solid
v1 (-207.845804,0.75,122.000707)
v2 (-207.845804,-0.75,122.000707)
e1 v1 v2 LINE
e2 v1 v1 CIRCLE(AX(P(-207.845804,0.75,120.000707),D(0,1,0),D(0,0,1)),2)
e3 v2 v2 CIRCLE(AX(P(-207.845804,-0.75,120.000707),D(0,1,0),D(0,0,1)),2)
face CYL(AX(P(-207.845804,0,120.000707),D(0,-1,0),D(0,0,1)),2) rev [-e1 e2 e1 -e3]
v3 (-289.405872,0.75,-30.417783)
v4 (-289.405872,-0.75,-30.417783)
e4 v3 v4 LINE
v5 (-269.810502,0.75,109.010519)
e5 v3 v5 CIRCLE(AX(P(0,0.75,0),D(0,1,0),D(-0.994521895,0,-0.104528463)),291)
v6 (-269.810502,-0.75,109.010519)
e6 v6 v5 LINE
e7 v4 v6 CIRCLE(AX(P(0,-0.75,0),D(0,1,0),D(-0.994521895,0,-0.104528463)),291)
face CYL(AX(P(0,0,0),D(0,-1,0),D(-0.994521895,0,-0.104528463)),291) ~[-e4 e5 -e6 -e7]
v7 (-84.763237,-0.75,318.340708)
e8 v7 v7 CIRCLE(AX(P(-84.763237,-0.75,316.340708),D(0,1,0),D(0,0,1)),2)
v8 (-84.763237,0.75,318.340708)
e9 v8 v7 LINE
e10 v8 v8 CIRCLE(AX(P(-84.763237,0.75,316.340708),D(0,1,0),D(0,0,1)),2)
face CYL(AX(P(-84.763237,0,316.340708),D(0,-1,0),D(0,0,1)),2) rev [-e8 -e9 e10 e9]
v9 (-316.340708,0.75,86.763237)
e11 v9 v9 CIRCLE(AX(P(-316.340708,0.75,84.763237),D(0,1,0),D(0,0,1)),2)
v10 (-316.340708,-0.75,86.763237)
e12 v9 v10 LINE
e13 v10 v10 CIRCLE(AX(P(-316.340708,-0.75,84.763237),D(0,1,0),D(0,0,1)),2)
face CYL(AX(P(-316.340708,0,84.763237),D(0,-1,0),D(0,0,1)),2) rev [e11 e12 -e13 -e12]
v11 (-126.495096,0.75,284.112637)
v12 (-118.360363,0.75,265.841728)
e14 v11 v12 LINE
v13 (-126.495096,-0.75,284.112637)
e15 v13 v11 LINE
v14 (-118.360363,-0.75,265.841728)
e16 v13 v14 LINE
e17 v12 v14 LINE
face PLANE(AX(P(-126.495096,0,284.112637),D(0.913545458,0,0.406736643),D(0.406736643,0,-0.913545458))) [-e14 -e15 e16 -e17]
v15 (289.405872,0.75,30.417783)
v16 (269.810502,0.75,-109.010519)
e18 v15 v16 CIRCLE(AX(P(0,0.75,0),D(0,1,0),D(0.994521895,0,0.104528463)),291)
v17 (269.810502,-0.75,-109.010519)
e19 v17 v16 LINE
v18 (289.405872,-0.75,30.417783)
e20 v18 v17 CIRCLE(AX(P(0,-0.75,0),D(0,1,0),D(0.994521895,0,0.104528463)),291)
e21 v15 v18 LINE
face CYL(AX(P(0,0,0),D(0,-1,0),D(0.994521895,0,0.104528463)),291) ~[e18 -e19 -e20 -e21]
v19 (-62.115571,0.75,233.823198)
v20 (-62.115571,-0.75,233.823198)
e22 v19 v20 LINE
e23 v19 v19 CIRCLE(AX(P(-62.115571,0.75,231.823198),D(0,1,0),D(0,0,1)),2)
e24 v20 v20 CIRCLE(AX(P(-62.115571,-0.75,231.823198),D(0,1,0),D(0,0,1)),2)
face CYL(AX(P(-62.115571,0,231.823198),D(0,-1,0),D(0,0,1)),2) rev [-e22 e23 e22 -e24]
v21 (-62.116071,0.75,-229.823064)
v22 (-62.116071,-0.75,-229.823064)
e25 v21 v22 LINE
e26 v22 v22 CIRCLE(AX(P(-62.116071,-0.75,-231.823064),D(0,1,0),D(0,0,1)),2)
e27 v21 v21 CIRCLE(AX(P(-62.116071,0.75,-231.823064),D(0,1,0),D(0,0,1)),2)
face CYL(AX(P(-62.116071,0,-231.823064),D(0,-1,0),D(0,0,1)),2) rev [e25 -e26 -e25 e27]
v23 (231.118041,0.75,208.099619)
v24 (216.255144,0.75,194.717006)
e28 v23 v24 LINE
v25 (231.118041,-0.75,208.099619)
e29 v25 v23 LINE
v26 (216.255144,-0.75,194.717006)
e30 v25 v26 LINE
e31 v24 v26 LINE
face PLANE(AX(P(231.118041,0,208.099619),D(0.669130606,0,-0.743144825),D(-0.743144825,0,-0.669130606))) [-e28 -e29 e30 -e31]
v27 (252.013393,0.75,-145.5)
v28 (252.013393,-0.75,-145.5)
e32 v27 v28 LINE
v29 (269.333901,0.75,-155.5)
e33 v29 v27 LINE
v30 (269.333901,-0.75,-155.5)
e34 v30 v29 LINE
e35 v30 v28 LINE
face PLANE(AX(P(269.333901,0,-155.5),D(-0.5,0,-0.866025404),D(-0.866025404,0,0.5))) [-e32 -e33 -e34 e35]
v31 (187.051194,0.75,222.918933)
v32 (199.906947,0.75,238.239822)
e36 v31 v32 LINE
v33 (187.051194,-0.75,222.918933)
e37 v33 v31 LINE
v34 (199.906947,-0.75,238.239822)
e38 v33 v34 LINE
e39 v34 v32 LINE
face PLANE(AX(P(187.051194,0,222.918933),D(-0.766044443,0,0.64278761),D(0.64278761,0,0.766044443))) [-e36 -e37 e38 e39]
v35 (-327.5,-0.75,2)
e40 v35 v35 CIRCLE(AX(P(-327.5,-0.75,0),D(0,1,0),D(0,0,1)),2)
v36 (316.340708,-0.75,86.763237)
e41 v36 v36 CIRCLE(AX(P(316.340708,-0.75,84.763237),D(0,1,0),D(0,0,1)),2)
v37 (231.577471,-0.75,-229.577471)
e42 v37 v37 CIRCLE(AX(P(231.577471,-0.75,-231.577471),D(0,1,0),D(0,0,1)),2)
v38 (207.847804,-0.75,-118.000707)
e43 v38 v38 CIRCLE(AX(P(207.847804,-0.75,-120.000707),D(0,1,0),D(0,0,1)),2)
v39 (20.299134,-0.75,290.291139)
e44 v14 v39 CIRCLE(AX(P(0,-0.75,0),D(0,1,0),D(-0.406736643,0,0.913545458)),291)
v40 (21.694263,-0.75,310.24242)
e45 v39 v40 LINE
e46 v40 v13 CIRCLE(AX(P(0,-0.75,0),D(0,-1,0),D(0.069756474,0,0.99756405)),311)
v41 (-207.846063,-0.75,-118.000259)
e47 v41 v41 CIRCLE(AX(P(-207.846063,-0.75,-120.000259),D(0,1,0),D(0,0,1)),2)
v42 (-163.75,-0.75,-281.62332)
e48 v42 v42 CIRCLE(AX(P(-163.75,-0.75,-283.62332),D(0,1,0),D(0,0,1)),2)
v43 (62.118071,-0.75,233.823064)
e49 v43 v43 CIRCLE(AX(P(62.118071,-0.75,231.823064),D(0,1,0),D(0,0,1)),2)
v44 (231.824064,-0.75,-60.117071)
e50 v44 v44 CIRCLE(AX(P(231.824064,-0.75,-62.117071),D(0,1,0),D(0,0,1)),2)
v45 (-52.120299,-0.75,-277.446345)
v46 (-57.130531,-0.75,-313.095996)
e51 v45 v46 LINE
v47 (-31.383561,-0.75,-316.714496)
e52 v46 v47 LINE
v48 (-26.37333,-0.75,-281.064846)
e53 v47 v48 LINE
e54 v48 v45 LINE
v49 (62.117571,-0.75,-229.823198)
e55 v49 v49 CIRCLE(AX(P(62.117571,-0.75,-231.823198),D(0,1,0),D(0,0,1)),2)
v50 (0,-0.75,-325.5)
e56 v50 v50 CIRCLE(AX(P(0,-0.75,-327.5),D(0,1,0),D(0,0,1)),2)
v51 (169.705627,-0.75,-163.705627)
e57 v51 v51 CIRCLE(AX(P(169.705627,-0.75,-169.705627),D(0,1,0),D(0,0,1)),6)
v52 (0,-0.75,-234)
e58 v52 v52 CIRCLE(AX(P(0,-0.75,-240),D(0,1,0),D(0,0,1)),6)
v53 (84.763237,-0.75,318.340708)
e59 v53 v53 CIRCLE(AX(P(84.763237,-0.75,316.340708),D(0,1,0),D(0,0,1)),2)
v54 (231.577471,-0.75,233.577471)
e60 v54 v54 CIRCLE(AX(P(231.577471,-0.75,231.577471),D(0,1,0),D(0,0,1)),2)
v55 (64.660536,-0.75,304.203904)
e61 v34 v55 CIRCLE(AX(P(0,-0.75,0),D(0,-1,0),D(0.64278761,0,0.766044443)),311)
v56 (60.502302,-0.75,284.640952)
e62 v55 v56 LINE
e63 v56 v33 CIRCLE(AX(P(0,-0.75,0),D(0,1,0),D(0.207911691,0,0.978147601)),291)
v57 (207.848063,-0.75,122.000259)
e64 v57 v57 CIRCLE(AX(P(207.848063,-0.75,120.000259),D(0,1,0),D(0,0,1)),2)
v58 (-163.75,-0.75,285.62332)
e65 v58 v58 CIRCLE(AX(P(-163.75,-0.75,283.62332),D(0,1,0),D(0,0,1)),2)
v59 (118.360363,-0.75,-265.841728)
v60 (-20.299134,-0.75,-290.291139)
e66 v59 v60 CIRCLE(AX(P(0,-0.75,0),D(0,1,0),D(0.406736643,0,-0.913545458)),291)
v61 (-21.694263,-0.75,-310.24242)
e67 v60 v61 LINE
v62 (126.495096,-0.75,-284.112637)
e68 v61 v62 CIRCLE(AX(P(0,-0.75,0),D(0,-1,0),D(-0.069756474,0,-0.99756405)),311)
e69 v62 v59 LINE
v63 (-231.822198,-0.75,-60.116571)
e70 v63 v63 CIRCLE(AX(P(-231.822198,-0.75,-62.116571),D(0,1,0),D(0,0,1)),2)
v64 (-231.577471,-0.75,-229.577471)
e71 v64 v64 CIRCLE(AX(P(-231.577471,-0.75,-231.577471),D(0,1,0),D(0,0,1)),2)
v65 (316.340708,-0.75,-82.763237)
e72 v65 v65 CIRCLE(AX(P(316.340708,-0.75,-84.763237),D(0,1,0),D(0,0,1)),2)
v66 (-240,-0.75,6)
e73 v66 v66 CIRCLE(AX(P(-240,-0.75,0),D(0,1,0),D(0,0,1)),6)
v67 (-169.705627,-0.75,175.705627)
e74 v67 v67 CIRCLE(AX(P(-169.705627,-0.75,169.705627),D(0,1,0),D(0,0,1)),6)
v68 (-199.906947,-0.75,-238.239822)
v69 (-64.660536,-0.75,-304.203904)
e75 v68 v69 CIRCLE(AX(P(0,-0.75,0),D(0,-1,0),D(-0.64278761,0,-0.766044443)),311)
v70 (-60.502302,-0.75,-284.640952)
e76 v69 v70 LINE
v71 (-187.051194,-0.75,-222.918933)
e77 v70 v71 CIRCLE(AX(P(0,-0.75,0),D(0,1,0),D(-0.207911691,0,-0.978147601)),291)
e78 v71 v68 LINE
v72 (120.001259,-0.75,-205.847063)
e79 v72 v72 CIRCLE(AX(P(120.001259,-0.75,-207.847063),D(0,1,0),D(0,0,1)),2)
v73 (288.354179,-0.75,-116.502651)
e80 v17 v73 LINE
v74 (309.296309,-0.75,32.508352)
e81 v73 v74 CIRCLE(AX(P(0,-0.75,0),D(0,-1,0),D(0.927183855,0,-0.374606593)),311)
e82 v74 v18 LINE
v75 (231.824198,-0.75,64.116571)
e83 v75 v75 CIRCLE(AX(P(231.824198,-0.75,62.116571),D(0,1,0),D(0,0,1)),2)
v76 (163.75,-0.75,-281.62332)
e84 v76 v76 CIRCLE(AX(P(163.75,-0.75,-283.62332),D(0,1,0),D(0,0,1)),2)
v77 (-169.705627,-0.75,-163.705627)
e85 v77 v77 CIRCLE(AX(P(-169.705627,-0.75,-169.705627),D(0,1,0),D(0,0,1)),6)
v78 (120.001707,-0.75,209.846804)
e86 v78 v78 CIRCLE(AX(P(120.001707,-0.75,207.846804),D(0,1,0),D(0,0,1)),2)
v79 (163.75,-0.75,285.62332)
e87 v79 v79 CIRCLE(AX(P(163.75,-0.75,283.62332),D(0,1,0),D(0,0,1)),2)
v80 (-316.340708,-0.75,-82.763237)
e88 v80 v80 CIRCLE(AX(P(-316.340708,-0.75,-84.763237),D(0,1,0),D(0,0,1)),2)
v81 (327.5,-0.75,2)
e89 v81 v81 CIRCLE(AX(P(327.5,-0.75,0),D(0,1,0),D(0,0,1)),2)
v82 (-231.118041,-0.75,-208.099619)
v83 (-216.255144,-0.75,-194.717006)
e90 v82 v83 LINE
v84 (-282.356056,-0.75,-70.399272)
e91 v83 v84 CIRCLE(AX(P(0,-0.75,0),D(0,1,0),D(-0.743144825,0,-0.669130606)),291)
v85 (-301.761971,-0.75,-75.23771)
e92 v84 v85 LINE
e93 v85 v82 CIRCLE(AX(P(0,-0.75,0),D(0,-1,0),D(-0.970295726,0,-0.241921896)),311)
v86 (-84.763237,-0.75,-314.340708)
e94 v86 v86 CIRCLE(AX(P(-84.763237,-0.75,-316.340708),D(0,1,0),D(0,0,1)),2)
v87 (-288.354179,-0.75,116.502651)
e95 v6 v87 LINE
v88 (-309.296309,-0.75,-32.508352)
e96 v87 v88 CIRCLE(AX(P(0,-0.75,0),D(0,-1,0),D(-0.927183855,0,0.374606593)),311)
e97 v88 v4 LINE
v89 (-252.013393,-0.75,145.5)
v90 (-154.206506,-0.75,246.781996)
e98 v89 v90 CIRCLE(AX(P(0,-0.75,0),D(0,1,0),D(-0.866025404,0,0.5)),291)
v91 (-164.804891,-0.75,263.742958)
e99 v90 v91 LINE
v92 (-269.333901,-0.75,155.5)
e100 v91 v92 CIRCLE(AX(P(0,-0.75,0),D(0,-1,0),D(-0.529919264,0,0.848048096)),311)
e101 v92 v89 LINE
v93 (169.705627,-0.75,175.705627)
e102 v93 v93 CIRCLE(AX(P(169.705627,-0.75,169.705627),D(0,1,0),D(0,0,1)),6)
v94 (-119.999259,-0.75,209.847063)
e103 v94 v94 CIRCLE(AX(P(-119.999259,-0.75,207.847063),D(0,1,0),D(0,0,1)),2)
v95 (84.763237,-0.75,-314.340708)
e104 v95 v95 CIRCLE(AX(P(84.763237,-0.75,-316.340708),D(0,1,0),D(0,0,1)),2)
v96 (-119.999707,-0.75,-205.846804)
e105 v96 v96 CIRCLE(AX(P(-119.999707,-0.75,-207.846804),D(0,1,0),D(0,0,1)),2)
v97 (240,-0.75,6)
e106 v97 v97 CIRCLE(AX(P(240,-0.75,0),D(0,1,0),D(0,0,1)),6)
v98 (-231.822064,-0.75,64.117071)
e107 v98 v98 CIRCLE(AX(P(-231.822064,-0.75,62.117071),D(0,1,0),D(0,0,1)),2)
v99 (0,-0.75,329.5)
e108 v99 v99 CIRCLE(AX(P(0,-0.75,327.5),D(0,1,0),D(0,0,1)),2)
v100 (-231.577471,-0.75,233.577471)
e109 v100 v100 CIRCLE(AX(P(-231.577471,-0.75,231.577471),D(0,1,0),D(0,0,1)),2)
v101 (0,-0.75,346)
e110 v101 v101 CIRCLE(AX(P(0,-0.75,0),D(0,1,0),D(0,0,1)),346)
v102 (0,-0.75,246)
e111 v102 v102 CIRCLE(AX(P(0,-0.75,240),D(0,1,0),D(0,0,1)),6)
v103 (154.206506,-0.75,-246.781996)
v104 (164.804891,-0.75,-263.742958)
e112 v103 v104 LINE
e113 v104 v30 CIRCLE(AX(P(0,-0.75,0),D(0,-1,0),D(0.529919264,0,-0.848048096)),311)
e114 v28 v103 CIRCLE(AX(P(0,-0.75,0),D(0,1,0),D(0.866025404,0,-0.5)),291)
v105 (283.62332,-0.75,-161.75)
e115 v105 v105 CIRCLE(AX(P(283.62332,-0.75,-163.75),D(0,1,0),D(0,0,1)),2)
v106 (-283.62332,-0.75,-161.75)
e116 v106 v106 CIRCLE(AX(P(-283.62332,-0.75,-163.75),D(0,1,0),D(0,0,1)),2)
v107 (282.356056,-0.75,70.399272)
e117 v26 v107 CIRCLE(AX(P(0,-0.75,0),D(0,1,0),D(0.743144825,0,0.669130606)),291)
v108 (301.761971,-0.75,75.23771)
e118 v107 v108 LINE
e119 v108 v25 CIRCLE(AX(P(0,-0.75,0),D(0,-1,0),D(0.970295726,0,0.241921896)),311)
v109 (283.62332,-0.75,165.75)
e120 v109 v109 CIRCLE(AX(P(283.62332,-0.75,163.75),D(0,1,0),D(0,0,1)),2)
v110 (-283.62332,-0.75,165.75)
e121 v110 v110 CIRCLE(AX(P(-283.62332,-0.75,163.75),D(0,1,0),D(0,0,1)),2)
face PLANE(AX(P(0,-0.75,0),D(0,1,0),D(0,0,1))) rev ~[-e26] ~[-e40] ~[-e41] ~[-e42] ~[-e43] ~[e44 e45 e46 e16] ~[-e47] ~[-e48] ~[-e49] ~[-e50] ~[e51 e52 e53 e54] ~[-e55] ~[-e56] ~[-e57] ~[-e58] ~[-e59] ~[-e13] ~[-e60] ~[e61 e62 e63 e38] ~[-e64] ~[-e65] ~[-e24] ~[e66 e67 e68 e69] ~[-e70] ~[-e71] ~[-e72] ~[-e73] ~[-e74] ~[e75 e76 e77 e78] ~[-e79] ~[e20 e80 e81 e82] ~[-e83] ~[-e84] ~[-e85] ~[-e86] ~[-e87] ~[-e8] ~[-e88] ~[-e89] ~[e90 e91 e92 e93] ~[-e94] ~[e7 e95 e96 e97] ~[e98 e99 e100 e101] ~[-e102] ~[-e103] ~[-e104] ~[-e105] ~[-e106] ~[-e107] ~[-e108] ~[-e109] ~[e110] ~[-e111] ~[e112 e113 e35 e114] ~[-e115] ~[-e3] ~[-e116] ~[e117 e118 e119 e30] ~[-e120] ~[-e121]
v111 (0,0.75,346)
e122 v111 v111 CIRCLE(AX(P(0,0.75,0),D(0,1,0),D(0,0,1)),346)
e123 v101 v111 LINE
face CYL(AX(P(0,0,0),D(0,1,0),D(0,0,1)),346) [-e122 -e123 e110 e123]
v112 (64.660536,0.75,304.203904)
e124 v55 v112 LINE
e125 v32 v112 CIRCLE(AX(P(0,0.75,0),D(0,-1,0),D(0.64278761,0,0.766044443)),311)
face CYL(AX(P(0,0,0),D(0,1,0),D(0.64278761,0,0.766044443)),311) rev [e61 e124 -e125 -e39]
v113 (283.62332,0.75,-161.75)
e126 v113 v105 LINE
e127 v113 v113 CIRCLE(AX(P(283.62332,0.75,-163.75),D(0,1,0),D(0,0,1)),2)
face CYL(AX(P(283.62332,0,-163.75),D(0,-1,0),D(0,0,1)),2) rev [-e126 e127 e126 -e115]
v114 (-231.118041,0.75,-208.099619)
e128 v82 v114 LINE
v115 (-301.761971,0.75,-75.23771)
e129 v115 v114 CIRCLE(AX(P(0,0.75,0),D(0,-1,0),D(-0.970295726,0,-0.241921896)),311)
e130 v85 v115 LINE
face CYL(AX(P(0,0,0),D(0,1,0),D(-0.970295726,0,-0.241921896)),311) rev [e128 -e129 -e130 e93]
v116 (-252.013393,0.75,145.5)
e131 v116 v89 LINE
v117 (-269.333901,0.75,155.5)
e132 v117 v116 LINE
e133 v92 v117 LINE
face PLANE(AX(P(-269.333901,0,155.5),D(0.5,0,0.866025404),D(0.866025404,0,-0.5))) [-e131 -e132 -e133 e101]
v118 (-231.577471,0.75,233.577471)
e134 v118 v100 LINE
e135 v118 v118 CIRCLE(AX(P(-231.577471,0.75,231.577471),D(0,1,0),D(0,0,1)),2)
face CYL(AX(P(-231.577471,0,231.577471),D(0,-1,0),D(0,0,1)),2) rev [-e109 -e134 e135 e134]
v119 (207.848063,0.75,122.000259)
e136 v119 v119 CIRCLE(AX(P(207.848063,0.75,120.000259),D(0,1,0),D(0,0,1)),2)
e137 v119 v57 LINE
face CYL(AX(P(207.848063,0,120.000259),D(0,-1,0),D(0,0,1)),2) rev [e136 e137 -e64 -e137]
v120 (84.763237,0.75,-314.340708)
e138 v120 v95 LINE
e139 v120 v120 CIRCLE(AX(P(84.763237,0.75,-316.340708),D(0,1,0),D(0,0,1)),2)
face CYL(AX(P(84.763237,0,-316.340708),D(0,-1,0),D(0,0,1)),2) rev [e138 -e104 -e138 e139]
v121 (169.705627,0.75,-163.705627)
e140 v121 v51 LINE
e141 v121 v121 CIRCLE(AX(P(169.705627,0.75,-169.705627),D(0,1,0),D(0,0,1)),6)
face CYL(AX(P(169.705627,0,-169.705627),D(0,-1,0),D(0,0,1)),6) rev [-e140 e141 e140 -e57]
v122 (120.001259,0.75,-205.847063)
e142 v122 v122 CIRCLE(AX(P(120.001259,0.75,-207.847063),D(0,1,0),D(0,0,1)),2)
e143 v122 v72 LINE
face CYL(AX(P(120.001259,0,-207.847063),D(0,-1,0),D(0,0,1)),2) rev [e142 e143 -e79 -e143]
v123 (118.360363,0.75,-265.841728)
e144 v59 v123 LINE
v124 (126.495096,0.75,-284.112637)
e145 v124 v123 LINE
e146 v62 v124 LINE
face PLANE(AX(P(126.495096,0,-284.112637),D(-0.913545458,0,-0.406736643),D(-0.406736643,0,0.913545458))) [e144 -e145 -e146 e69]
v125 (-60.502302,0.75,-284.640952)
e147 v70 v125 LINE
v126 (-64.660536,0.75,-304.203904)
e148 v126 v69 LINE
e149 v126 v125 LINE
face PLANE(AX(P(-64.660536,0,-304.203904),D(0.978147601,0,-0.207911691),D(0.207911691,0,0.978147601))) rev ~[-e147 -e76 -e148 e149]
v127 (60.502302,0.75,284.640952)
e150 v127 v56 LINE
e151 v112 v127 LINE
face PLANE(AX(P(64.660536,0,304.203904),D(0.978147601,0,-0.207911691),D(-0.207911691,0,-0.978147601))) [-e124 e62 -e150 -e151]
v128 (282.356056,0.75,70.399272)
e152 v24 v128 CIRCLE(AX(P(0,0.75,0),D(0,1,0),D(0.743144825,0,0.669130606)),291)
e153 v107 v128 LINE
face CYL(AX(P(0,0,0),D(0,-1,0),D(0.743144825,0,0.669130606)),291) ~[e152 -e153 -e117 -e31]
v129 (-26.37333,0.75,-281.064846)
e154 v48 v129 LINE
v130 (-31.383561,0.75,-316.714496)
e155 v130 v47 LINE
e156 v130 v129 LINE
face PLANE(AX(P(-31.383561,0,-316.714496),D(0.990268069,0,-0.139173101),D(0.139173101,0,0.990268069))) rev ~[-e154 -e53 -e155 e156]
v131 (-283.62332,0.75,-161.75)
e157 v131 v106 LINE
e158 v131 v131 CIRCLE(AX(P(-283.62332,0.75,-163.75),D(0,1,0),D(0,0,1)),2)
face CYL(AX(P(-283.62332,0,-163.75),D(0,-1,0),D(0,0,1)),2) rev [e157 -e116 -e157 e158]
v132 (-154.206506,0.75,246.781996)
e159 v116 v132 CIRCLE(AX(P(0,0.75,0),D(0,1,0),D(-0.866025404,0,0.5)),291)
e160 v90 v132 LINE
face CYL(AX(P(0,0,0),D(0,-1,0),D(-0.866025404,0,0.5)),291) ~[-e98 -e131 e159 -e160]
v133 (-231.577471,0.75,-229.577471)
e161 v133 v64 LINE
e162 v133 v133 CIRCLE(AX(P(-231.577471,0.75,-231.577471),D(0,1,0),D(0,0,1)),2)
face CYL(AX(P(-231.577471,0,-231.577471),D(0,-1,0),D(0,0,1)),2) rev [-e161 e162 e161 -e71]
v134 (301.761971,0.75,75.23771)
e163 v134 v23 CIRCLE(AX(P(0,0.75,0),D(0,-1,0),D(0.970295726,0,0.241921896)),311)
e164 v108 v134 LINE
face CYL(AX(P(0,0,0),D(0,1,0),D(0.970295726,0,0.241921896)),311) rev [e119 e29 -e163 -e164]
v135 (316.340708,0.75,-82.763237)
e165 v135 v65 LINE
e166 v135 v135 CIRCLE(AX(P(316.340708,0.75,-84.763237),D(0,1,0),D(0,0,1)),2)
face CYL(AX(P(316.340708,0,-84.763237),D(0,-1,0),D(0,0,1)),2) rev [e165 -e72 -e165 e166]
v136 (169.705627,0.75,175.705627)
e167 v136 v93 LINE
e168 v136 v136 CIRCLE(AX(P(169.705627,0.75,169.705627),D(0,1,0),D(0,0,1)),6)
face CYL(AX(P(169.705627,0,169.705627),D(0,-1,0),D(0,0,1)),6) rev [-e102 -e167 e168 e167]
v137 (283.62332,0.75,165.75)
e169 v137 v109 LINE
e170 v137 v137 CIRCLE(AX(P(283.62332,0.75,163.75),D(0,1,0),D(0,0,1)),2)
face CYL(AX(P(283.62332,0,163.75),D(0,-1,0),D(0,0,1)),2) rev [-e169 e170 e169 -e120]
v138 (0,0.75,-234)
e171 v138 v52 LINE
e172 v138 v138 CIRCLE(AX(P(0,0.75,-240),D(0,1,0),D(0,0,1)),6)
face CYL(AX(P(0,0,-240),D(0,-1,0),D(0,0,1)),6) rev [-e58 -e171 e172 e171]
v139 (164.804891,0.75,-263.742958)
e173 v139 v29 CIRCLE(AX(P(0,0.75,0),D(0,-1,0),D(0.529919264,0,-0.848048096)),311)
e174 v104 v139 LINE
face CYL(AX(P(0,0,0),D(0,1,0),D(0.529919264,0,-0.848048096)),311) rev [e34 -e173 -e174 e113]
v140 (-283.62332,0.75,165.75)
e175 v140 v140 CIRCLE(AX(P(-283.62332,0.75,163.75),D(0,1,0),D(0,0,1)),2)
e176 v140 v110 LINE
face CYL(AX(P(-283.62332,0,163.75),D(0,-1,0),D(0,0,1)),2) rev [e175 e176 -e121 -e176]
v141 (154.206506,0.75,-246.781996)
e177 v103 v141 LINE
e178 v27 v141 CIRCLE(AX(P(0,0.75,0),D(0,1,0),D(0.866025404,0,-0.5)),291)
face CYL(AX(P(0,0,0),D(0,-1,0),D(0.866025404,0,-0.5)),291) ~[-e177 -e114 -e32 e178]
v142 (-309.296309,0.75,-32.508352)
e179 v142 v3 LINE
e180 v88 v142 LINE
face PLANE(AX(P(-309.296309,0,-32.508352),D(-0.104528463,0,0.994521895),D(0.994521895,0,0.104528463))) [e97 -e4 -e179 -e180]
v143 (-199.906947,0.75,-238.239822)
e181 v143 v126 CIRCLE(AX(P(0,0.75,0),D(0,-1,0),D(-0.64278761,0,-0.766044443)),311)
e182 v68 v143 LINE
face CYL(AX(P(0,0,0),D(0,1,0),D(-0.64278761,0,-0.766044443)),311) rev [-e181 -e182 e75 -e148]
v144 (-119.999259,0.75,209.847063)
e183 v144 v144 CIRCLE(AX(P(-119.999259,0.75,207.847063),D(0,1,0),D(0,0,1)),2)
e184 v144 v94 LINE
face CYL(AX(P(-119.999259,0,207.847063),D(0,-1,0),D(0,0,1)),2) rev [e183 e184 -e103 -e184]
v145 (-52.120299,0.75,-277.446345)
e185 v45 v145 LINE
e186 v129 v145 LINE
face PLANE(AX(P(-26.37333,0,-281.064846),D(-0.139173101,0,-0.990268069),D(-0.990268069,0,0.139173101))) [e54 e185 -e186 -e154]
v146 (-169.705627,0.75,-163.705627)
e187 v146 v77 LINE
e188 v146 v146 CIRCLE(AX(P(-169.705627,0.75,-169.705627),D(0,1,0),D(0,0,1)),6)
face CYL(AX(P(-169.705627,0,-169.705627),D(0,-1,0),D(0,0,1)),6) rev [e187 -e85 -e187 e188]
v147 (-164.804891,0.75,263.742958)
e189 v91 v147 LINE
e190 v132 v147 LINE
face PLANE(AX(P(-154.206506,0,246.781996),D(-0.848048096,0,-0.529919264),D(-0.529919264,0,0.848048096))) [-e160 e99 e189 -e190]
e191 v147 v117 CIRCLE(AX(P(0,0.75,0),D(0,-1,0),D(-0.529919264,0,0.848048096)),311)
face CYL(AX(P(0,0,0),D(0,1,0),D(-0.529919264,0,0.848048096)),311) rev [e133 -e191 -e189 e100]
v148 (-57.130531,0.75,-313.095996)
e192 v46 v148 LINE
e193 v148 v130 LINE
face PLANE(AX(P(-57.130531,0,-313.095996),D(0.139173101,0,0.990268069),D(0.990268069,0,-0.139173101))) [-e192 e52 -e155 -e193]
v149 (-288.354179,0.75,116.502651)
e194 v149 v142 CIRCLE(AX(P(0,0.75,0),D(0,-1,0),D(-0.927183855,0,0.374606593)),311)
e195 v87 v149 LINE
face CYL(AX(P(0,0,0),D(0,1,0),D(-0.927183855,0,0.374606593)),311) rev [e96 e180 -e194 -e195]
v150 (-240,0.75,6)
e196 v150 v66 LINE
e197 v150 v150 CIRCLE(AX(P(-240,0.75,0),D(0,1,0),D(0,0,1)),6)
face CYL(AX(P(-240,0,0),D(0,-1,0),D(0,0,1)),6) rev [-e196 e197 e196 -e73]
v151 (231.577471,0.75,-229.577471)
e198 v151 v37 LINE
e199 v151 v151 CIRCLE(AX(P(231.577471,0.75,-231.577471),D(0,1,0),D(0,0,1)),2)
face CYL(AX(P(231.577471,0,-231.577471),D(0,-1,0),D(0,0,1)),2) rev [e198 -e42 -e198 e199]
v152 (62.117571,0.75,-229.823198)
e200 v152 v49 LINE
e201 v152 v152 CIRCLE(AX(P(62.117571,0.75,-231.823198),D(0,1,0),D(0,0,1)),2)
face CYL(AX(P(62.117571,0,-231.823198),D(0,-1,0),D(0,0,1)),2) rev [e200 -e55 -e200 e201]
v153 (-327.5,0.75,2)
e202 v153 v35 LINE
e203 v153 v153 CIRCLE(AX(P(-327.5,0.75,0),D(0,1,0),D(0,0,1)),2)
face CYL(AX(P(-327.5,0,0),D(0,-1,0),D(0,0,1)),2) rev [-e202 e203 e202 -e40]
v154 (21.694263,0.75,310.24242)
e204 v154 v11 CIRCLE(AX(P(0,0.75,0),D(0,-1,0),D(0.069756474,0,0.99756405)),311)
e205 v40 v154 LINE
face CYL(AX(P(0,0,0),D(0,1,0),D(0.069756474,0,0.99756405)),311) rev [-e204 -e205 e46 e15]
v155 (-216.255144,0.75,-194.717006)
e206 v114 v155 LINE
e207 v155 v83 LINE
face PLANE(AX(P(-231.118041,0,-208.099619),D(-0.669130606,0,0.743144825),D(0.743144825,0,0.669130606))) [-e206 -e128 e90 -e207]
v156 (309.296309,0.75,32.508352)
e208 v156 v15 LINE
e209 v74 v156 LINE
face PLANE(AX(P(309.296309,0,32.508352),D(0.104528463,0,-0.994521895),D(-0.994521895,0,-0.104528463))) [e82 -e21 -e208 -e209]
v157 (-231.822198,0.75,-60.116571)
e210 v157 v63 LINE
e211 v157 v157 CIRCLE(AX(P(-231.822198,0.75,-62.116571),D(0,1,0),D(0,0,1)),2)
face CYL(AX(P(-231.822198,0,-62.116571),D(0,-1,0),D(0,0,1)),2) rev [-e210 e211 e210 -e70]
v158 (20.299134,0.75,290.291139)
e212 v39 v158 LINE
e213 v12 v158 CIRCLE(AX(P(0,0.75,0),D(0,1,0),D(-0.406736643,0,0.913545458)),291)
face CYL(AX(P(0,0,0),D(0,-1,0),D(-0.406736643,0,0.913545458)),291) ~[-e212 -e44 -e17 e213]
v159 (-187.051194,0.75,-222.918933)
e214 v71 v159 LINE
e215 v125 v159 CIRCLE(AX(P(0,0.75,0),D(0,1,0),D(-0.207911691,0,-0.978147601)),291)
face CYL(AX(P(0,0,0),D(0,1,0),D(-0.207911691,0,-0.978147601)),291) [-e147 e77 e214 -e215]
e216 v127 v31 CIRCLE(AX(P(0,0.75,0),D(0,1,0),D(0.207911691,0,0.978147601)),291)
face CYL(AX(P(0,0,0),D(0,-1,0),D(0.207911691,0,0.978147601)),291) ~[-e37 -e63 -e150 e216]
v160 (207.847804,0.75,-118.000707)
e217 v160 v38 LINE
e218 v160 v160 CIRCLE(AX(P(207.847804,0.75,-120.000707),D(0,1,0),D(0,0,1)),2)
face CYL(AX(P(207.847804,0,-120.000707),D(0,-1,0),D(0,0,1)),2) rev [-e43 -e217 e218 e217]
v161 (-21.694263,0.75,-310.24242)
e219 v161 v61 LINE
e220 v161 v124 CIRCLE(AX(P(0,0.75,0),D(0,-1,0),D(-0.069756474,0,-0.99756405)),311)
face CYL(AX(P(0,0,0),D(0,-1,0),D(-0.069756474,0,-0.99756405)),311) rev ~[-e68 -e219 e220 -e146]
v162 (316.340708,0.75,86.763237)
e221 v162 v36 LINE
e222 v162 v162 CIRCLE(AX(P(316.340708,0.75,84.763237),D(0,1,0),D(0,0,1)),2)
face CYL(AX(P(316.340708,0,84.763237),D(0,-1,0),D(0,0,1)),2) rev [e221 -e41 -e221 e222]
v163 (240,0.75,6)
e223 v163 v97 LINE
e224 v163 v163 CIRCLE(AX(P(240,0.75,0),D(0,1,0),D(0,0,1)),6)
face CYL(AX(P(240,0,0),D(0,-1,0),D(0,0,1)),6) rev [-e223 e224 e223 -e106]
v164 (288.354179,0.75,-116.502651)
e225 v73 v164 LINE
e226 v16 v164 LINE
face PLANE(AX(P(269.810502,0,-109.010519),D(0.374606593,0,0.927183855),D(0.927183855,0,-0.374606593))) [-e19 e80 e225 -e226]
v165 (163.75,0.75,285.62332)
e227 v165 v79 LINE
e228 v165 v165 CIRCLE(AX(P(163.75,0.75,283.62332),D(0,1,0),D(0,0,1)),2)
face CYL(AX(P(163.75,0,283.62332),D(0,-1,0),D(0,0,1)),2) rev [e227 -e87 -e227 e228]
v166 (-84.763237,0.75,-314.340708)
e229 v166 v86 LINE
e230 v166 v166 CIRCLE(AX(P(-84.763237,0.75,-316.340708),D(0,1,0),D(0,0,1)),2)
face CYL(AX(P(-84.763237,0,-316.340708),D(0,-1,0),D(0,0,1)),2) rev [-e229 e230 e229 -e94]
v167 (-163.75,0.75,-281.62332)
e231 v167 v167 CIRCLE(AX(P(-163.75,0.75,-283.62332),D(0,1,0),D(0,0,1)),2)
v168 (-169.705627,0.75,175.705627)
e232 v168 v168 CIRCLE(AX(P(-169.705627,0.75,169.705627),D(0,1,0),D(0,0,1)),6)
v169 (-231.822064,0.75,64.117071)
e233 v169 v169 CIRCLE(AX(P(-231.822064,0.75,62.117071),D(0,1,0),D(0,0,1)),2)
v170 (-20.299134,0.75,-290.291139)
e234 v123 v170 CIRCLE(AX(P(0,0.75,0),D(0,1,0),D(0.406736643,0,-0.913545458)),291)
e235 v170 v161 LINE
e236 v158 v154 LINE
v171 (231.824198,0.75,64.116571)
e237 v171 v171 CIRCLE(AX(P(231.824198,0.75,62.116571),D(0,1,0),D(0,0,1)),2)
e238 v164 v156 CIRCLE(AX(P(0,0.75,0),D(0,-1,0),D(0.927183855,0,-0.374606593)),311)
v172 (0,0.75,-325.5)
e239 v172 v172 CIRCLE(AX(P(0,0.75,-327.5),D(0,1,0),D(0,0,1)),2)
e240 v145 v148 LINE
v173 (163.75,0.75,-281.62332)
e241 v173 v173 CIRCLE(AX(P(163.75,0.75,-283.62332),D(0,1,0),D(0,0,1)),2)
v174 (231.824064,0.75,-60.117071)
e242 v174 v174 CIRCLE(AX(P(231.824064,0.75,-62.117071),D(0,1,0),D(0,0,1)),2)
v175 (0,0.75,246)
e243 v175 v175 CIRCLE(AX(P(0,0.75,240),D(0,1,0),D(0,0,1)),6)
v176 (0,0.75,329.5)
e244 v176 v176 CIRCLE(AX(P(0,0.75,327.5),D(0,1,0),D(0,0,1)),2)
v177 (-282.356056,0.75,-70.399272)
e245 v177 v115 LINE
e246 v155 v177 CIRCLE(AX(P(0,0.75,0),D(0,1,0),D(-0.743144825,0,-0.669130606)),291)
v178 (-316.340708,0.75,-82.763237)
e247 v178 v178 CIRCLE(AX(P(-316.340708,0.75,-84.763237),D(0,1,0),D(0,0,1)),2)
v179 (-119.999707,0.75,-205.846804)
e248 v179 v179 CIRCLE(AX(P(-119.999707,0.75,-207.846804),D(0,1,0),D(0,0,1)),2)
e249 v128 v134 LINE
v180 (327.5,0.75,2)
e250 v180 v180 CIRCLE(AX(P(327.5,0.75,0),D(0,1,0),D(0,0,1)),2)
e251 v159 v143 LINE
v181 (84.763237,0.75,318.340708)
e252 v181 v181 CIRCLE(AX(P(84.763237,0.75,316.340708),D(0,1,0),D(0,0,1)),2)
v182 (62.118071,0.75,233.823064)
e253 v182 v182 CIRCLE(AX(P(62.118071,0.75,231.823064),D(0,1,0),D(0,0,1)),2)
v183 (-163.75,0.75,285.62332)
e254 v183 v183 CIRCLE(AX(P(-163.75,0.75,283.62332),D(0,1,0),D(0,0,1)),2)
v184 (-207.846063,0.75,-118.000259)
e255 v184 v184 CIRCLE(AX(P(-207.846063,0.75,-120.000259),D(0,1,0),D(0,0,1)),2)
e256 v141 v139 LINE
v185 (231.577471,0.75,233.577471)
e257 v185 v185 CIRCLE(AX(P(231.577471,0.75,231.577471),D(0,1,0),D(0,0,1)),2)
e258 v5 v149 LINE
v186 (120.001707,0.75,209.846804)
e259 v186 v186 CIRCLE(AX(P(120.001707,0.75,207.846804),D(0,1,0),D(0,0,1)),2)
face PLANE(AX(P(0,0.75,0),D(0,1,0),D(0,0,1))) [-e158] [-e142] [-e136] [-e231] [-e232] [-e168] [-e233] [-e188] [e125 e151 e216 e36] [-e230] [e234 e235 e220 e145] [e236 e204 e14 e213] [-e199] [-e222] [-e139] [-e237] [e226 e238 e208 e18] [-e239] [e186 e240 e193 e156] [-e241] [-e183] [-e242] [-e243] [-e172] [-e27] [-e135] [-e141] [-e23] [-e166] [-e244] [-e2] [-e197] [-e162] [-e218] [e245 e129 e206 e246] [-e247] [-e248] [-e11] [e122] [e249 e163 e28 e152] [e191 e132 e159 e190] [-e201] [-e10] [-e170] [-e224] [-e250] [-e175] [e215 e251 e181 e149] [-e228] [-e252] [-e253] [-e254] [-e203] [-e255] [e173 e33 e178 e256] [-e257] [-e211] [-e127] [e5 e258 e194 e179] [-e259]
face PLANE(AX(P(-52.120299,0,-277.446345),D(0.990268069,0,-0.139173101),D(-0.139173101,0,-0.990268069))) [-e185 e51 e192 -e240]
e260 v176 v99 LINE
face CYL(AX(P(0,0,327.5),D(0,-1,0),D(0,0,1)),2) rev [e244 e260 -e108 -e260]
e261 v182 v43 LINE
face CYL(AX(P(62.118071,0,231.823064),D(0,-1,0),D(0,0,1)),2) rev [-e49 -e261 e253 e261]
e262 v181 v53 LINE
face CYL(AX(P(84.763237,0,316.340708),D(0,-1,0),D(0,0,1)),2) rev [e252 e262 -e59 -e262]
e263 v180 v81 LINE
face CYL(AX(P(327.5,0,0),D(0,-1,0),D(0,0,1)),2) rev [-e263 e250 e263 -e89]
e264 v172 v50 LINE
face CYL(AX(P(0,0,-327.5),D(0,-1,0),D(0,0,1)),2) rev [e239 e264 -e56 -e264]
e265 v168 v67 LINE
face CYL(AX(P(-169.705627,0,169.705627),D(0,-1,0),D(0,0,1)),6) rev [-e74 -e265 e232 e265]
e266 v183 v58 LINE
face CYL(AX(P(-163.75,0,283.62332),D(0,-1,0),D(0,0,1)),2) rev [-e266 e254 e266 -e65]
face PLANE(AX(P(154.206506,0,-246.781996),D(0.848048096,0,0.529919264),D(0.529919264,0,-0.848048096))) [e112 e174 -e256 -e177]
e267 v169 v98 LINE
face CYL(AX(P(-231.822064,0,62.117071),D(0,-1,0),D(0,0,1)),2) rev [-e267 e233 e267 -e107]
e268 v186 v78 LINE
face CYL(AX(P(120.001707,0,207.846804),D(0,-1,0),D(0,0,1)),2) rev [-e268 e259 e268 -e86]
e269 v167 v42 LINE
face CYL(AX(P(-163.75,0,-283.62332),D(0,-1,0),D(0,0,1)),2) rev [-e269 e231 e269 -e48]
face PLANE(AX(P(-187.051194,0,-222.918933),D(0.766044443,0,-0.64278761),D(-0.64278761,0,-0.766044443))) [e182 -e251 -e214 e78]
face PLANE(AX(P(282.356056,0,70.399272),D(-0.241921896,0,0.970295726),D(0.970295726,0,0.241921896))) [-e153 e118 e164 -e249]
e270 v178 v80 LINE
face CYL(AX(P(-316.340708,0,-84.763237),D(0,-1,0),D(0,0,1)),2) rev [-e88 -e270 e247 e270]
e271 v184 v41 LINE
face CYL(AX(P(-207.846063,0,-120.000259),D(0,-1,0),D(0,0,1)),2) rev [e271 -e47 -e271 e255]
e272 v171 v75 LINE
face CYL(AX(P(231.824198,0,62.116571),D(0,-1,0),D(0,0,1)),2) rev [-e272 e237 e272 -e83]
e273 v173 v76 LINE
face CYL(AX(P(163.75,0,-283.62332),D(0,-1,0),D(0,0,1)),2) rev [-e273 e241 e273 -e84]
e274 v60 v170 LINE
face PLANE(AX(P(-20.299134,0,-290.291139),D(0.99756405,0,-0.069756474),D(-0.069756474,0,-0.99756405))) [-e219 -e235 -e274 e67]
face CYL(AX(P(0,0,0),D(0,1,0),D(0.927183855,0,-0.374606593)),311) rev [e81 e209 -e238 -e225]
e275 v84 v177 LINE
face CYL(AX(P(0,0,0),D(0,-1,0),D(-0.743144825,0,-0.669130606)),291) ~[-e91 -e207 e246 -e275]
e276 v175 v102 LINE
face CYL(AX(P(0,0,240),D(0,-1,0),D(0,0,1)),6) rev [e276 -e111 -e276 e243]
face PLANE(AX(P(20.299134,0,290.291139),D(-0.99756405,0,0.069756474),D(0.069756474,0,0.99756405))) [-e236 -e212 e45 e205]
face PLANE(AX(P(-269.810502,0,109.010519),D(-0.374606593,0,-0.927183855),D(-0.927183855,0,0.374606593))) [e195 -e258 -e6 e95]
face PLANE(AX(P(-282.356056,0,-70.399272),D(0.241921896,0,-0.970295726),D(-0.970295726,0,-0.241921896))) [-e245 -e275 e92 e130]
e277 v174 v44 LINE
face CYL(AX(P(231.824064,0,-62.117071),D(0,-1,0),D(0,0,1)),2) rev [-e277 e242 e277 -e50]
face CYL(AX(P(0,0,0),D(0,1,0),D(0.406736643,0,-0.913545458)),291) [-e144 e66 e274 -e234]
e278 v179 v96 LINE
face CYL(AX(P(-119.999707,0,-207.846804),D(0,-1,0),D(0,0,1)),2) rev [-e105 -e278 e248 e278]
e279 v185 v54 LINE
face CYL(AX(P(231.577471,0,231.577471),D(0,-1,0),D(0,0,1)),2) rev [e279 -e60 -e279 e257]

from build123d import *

# Parameters (mm, degrees)
SKETCH1_R           = 346
SKETCH1_R_2         = 6
SKETCH1_R_3         = 2
BOSS_EXTRUDE1_DEPTH = 0.75


with BuildPart() as part:
    # Sketch1 → Boss-Extrude1 (new, symmetric)
    with BuildSketch(Plane(origin=(0, 0, 0), x_dir=(1, 0, 0), z_dir=(0, 1, 0))):
        with Locations(Location((0, 0, 0), (0, 0, 270))):
            Circle(SKETCH1_R)
        with Locations(Location((0, 240, 0), (0, 0, 270))):
            Circle(SKETCH1_R_2, mode=Mode.SUBTRACT)
        with Locations(Location((169.705627485, 169.705627485, 0), (0, 0, 270))):
            Circle(SKETCH1_R_2, mode=Mode.SUBTRACT)
        with Locations(Location((240, 0, 0), (0, 0, 270))):
            Circle(SKETCH1_R_2, mode=Mode.SUBTRACT)
        with Locations(Location((169.705627485, -169.705627485, 0), (0, 0, 270))):
            Circle(SKETCH1_R_2, mode=Mode.SUBTRACT)
        with Locations(Location((0, -240, 0), (0, 0, 270))):
            Circle(SKETCH1_R_2, mode=Mode.SUBTRACT)
        with Locations(Location((-169.705627485, -169.705627485, 0), (0, 0, 270))):
            Circle(SKETCH1_R_2, mode=Mode.SUBTRACT)
        with Locations(Location((-240, 0, 0), (0, 0, 270))):
            Circle(SKETCH1_R_2, mode=Mode.SUBTRACT)
        with Locations(Location((-169.705627485, 169.705627485, 0), (0, 0, 270))):
            Circle(SKETCH1_R_2, mode=Mode.SUBTRACT)
        with Locations(Location((-231.822198309, 62.116570825, 0), (0, 0, 270))):
            Circle(SKETCH1_R_3, mode=Mode.SUBTRACT)
        with Locations(Location((-207.846062834, 120.000258819, 0), (0, 0, 270))):
            Circle(SKETCH1_R_3, mode=Mode.SUBTRACT)
        with Locations(Location((-119.999707107, 207.846804015, 0), (0, 0, 270))):
            Circle(SKETCH1_R_3, mode=Mode.SUBTRACT)
        with Locations(Location((-62.116070825, 231.823064335, 0), (0, 0, 270))):
            Circle(SKETCH1_R_3, mode=Mode.SUBTRACT)
        with Locations(Location((62.117570825, 231.823198309, 0), (0, 0, 270))):
            Circle(SKETCH1_R_3, mode=Mode.SUBTRACT)
        with Locations(Location((120.001258819, 207.847062834, 0), (0, 0, 270))):
            Circle(SKETCH1_R_3, mode=Mode.SUBTRACT)
        with Locations(Location((207.847804015, 120.000707107, 0), (0, 0, 270))):
            Circle(SKETCH1_R_3, mode=Mode.SUBTRACT)
        with Locations(Location((231.824064335, 62.117070825, 0), (0, 0, 270))):
            Circle(SKETCH1_R_3, mode=Mode.SUBTRACT)
        with Locations(Location((231.824198309, -62.116570825, 0), (0, 0, 270))):
            Circle(SKETCH1_R_3, mode=Mode.SUBTRACT)
        with Locations(Location((207.848062834, -120.000258819, 0), (0, 0, 270))):
            Circle(SKETCH1_R_3, mode=Mode.SUBTRACT)
        with Locations(Location((120.001707107, -207.846804015, 0), (0, 0, 270))):
            Circle(SKETCH1_R_3, mode=Mode.SUBTRACT)
        with Locations(Location((62.118070825, -231.823064335, 0), (0, 0, 270))):
            Circle(SKETCH1_R_3, mode=Mode.SUBTRACT)
        with Locations(Location((-62.115570825, -231.823198309, 0), (0, 0, 270))):
            Circle(SKETCH1_R_3, mode=Mode.SUBTRACT)
        with Locations(Location((-119.999258819, -207.847062834, 0), (0, 0, 270))):
            Circle(SKETCH1_R_3, mode=Mode.SUBTRACT)
        with Locations(Location((-207.845804015, -120.000707107, 0), (0, 0, 270))):
            Circle(SKETCH1_R_3, mode=Mode.SUBTRACT)
        with Locations(Location((-231.822064335, -62.117070825, 0), (0, 0, 270))):
            Circle(SKETCH1_R_3, mode=Mode.SUBTRACT)
        with Locations(Location((-316.34070811, 84.763237271, 0), (0, 0, 270))):
            Circle(SKETCH1_R_3, mode=Mode.SUBTRACT)
        with Locations(Location((-283.623319739, 163.75, 0), (0, 0, 270))):
            Circle(SKETCH1_R_3, mode=Mode.SUBTRACT)
        with Locations(Location((-231.577470839, 231.577470839, 0), (0, 0, 270))):
            Circle(SKETCH1_R_3, mode=Mode.SUBTRACT)
        with Locations(Location((-163.75, 283.623319739, 0), (0, 0, 270))):
            Circle(SKETCH1_R_3, mode=Mode.SUBTRACT)
        with Locations(Location((-84.763237271, 316.34070811, 0), (0, 0, 270))):
            Circle(SKETCH1_R_3, mode=Mode.SUBTRACT)
        with Locations(Location((0, 327.5, 0), (0, 0, 270))):
            Circle(SKETCH1_R_3, mode=Mode.SUBTRACT)
        with Locations(Location((84.763237271, 316.34070811, 0), (0, 0, 270))):
            Circle(SKETCH1_R_3, mode=Mode.SUBTRACT)
        with Locations(Location((163.75, 283.623319739, 0), (0, 0, 270))):
            Circle(SKETCH1_R_3, mode=Mode.SUBTRACT)
        with Locations(Location((231.577470839, 231.577470839, 0), (0, 0, 270))):
            Circle(SKETCH1_R_3, mode=Mode.SUBTRACT)
        with Locations(Location((283.623319739, 163.75, 0), (0, 0, 270))):
            Circle(SKETCH1_R_3, mode=Mode.SUBTRACT)
        with Locations(Location((316.34070811, 84.763237271, 0), (0, 0, 270))):
            Circle(SKETCH1_R_3, mode=Mode.SUBTRACT)
        with Locations(Location((327.5, 0, 0), (0, 0, 270))):
            Circle(SKETCH1_R_3, mode=Mode.SUBTRACT)
        with Locations(Location((316.34070811, -84.763237271, 0), (0, 0, 270))):
            Circle(SKETCH1_R_3, mode=Mode.SUBTRACT)
        with Locations(Location((283.623319739, -163.75, 0), (0, 0, 270))):
            Circle(SKETCH1_R_3, mode=Mode.SUBTRACT)
        with Locations(Location((231.577470839, -231.577470839, 0), (0, 0, 270))):
            Circle(SKETCH1_R_3, mode=Mode.SUBTRACT)
        with Locations(Location((163.75, -283.623319739, 0), (0, 0, 270))):
            Circle(SKETCH1_R_3, mode=Mode.SUBTRACT)
        with Locations(Location((84.763237271, -316.34070811, 0), (0, 0, 270))):
            Circle(SKETCH1_R_3, mode=Mode.SUBTRACT)
        with Locations(Location((0, -327.5, 0), (0, 0, 270))):
            Circle(SKETCH1_R_3, mode=Mode.SUBTRACT)
        with Locations(Location((-84.763237271, -316.34070811, 0), (0, 0, 270))):
            Circle(SKETCH1_R_3, mode=Mode.SUBTRACT)
        with Locations(Location((-163.75, -283.623319739, 0), (0, 0, 270))):
            Circle(SKETCH1_R_3, mode=Mode.SUBTRACT)
        with Locations(Location((-231.577470839, -231.577470839, 0), (0, 0, 270))):
            Circle(SKETCH1_R_3, mode=Mode.SUBTRACT)
        with Locations(Location((-283.623319739, -163.75, 0), (0, 0, 270))):
            Circle(SKETCH1_R_3, mode=Mode.SUBTRACT)
        with Locations(Location((-316.34070811, -84.763237271, 0), (0, 0, 270))):
            Circle(SKETCH1_R_3, mode=Mode.SUBTRACT)
        with Locations(Location((-327.5, 0, 0), (0, 0, 270))):
            Circle(SKETCH1_R_3, mode=Mode.SUBTRACT)
        Polygon((-57.130530999, 313.095995547), (-31.383561212, 316.714496172), (-26.373329577, 281.064845698), (-52.120299364, 277.446345073), align=None, mode=Mode.SUBTRACT)
        with BuildLine():
            Line((-20.29913386, 290.291138626), (-21.694263334, 310.242419631))
            ThreePointArc((-21.694263334, 310.242419631), (54.004583254, 306.275211187), (126.495095997, 284.112637327))
            Line((126.495095997, 284.112637327), (118.360363135, 265.841728174))
            ThreePointArc((118.360363135, 265.841728174), (50.531619701, 286.579056127), (-20.29913386, 290.291138626))
        make_face(mode=Mode.SUBTRACT)
        with BuildLine():
            Line((269.333900577, 155.5), (252.013392501, 145.5))
            ThreePointArc((252.013392501, 145.5), (209.327881899, 202.145585804), (154.206505892, 246.781995982))
            Line((154.206505892, 246.781995982), (164.804891177, 263.742957905))
            ThreePointArc((164.804891177, 263.742957905), (223.714677905, 216.038753213), (269.333900577, 155.5))
        make_face(mode=Mode.SUBTRACT)
        with BuildLine():
            Line((309.29630946, -32.508352076), (289.405871552, -30.417782811))
            ThreePointArc((289.405871552, -30.417782811), (288.168008004, 40.499372379), (269.810501679, 109.010518684))
            Line((269.810501679, 109.010518684), (288.35417877, 116.502650552))
            ThreePointArc((288.35417877, 116.502650552), (307.973369379, 43.282834399), (309.29630946, -32.508352076))
        make_face(mode=Mode.SUBTRACT)
        with BuildLine():
            Line((231.118040723, -208.099618578), (216.255144214, -194.71700645))
            ThreePointArc((216.255144214, -194.71700645), (256.937749522, -136.616224771), (282.356056346, -70.39927162))
            Line((282.356056346, -70.39927162), (301.761970872, -75.237709532))
            ThreePointArc((301.761970872, -75.237709532), (274.596701379, -146.005656026), (231.118040723, -208.099618578))
        make_face(mode=Mode.SUBTRACT)
        with BuildLine():
            Line((64.660535844, -304.203903828), (60.502302028, -284.640951814))
            ThreePointArc((60.502302028, -284.640951814), (127.566003716, -261.549067473), (187.051194419, -222.918932948))
            Line((187.051194419, -222.918932948), (199.906946613, -238.23982181))
            ThreePointArc((199.906946613, -238.23982181), (136.333426651, -279.524948399), (64.660535844, -304.203903828))
        make_face(mode=Mode.SUBTRACT)
        with BuildLine():
            Line((-126.495095997, -284.112637327), (-118.360363135, -265.841728174))
            ThreePointArc((-118.360363135, -265.841728174), (-50.531619701, -286.579056127), (20.29913386, -290.291138626))
            Line((20.29913386, -290.291138626), (21.694263334, -310.242419631))
            ThreePointArc((21.694263334, -310.242419631), (-54.004583254, -306.275211187), (-126.495095997, -284.112637327))
        make_face(mode=Mode.SUBTRACT)
        with BuildLine():
            Line((-269.333900577, -155.5), (-252.013392501, -145.5))
            ThreePointArc((-252.013392501, -145.5), (-209.327881899, -202.145585804), (-154.206505892, -246.781995982))
            Line((-154.206505892, -246.781995982), (-164.804891177, -263.742957905))
            ThreePointArc((-164.804891177, -263.742957905), (-223.714677905, -216.038753213), (-269.333900577, -155.5))
        make_face(mode=Mode.SUBTRACT)
        with BuildLine():
            Line((-309.29630946, 32.508352076), (-289.405871552, 30.417782811))
            ThreePointArc((-289.405871552, 30.417782811), (-288.168008004, -40.499372379), (-269.810501679, -109.010518684))
            Line((-269.810501679, -109.010518684), (-288.35417877, -116.502650552))
            ThreePointArc((-288.35417877, -116.502650552), (-307.973369379, -43.282834399), (-309.29630946, 32.508352076))
        make_face(mode=Mode.SUBTRACT)
        with BuildLine():
            Line((-231.118040723, 208.099618578), (-216.255144214, 194.71700645))
            ThreePointArc((-216.255144214, 194.71700645), (-256.937749522, 136.616224771), (-282.356056346, 70.39927162))
            Line((-282.356056346, 70.39927162), (-301.761970872, 75.237709531))
            ThreePointArc((-301.761970872, 75.237709531), (-274.596701379, 146.005656026), (-231.118040723, 208.099618578))
        make_face(mode=Mode.SUBTRACT)
        with BuildLine():
            Line((-64.660535844, 304.203903828), (-60.502302028, 284.640951814))
            ThreePointArc((-60.502302028, 284.640951814), (-127.566003716, 261.549067473), (-187.051194419, 222.918932948))
            Line((-187.051194419, 222.918932948), (-199.906946612, 238.23982181))
            ThreePointArc((-199.906946612, 238.23982181), (-136.333426651, 279.524948399), (-64.660535844, 304.203903828))
        make_face(mode=Mode.SUBTRACT)
    extrude(amount=BOSS_EXTRUDE1_DEPTH, both=True)


solid = part.part
